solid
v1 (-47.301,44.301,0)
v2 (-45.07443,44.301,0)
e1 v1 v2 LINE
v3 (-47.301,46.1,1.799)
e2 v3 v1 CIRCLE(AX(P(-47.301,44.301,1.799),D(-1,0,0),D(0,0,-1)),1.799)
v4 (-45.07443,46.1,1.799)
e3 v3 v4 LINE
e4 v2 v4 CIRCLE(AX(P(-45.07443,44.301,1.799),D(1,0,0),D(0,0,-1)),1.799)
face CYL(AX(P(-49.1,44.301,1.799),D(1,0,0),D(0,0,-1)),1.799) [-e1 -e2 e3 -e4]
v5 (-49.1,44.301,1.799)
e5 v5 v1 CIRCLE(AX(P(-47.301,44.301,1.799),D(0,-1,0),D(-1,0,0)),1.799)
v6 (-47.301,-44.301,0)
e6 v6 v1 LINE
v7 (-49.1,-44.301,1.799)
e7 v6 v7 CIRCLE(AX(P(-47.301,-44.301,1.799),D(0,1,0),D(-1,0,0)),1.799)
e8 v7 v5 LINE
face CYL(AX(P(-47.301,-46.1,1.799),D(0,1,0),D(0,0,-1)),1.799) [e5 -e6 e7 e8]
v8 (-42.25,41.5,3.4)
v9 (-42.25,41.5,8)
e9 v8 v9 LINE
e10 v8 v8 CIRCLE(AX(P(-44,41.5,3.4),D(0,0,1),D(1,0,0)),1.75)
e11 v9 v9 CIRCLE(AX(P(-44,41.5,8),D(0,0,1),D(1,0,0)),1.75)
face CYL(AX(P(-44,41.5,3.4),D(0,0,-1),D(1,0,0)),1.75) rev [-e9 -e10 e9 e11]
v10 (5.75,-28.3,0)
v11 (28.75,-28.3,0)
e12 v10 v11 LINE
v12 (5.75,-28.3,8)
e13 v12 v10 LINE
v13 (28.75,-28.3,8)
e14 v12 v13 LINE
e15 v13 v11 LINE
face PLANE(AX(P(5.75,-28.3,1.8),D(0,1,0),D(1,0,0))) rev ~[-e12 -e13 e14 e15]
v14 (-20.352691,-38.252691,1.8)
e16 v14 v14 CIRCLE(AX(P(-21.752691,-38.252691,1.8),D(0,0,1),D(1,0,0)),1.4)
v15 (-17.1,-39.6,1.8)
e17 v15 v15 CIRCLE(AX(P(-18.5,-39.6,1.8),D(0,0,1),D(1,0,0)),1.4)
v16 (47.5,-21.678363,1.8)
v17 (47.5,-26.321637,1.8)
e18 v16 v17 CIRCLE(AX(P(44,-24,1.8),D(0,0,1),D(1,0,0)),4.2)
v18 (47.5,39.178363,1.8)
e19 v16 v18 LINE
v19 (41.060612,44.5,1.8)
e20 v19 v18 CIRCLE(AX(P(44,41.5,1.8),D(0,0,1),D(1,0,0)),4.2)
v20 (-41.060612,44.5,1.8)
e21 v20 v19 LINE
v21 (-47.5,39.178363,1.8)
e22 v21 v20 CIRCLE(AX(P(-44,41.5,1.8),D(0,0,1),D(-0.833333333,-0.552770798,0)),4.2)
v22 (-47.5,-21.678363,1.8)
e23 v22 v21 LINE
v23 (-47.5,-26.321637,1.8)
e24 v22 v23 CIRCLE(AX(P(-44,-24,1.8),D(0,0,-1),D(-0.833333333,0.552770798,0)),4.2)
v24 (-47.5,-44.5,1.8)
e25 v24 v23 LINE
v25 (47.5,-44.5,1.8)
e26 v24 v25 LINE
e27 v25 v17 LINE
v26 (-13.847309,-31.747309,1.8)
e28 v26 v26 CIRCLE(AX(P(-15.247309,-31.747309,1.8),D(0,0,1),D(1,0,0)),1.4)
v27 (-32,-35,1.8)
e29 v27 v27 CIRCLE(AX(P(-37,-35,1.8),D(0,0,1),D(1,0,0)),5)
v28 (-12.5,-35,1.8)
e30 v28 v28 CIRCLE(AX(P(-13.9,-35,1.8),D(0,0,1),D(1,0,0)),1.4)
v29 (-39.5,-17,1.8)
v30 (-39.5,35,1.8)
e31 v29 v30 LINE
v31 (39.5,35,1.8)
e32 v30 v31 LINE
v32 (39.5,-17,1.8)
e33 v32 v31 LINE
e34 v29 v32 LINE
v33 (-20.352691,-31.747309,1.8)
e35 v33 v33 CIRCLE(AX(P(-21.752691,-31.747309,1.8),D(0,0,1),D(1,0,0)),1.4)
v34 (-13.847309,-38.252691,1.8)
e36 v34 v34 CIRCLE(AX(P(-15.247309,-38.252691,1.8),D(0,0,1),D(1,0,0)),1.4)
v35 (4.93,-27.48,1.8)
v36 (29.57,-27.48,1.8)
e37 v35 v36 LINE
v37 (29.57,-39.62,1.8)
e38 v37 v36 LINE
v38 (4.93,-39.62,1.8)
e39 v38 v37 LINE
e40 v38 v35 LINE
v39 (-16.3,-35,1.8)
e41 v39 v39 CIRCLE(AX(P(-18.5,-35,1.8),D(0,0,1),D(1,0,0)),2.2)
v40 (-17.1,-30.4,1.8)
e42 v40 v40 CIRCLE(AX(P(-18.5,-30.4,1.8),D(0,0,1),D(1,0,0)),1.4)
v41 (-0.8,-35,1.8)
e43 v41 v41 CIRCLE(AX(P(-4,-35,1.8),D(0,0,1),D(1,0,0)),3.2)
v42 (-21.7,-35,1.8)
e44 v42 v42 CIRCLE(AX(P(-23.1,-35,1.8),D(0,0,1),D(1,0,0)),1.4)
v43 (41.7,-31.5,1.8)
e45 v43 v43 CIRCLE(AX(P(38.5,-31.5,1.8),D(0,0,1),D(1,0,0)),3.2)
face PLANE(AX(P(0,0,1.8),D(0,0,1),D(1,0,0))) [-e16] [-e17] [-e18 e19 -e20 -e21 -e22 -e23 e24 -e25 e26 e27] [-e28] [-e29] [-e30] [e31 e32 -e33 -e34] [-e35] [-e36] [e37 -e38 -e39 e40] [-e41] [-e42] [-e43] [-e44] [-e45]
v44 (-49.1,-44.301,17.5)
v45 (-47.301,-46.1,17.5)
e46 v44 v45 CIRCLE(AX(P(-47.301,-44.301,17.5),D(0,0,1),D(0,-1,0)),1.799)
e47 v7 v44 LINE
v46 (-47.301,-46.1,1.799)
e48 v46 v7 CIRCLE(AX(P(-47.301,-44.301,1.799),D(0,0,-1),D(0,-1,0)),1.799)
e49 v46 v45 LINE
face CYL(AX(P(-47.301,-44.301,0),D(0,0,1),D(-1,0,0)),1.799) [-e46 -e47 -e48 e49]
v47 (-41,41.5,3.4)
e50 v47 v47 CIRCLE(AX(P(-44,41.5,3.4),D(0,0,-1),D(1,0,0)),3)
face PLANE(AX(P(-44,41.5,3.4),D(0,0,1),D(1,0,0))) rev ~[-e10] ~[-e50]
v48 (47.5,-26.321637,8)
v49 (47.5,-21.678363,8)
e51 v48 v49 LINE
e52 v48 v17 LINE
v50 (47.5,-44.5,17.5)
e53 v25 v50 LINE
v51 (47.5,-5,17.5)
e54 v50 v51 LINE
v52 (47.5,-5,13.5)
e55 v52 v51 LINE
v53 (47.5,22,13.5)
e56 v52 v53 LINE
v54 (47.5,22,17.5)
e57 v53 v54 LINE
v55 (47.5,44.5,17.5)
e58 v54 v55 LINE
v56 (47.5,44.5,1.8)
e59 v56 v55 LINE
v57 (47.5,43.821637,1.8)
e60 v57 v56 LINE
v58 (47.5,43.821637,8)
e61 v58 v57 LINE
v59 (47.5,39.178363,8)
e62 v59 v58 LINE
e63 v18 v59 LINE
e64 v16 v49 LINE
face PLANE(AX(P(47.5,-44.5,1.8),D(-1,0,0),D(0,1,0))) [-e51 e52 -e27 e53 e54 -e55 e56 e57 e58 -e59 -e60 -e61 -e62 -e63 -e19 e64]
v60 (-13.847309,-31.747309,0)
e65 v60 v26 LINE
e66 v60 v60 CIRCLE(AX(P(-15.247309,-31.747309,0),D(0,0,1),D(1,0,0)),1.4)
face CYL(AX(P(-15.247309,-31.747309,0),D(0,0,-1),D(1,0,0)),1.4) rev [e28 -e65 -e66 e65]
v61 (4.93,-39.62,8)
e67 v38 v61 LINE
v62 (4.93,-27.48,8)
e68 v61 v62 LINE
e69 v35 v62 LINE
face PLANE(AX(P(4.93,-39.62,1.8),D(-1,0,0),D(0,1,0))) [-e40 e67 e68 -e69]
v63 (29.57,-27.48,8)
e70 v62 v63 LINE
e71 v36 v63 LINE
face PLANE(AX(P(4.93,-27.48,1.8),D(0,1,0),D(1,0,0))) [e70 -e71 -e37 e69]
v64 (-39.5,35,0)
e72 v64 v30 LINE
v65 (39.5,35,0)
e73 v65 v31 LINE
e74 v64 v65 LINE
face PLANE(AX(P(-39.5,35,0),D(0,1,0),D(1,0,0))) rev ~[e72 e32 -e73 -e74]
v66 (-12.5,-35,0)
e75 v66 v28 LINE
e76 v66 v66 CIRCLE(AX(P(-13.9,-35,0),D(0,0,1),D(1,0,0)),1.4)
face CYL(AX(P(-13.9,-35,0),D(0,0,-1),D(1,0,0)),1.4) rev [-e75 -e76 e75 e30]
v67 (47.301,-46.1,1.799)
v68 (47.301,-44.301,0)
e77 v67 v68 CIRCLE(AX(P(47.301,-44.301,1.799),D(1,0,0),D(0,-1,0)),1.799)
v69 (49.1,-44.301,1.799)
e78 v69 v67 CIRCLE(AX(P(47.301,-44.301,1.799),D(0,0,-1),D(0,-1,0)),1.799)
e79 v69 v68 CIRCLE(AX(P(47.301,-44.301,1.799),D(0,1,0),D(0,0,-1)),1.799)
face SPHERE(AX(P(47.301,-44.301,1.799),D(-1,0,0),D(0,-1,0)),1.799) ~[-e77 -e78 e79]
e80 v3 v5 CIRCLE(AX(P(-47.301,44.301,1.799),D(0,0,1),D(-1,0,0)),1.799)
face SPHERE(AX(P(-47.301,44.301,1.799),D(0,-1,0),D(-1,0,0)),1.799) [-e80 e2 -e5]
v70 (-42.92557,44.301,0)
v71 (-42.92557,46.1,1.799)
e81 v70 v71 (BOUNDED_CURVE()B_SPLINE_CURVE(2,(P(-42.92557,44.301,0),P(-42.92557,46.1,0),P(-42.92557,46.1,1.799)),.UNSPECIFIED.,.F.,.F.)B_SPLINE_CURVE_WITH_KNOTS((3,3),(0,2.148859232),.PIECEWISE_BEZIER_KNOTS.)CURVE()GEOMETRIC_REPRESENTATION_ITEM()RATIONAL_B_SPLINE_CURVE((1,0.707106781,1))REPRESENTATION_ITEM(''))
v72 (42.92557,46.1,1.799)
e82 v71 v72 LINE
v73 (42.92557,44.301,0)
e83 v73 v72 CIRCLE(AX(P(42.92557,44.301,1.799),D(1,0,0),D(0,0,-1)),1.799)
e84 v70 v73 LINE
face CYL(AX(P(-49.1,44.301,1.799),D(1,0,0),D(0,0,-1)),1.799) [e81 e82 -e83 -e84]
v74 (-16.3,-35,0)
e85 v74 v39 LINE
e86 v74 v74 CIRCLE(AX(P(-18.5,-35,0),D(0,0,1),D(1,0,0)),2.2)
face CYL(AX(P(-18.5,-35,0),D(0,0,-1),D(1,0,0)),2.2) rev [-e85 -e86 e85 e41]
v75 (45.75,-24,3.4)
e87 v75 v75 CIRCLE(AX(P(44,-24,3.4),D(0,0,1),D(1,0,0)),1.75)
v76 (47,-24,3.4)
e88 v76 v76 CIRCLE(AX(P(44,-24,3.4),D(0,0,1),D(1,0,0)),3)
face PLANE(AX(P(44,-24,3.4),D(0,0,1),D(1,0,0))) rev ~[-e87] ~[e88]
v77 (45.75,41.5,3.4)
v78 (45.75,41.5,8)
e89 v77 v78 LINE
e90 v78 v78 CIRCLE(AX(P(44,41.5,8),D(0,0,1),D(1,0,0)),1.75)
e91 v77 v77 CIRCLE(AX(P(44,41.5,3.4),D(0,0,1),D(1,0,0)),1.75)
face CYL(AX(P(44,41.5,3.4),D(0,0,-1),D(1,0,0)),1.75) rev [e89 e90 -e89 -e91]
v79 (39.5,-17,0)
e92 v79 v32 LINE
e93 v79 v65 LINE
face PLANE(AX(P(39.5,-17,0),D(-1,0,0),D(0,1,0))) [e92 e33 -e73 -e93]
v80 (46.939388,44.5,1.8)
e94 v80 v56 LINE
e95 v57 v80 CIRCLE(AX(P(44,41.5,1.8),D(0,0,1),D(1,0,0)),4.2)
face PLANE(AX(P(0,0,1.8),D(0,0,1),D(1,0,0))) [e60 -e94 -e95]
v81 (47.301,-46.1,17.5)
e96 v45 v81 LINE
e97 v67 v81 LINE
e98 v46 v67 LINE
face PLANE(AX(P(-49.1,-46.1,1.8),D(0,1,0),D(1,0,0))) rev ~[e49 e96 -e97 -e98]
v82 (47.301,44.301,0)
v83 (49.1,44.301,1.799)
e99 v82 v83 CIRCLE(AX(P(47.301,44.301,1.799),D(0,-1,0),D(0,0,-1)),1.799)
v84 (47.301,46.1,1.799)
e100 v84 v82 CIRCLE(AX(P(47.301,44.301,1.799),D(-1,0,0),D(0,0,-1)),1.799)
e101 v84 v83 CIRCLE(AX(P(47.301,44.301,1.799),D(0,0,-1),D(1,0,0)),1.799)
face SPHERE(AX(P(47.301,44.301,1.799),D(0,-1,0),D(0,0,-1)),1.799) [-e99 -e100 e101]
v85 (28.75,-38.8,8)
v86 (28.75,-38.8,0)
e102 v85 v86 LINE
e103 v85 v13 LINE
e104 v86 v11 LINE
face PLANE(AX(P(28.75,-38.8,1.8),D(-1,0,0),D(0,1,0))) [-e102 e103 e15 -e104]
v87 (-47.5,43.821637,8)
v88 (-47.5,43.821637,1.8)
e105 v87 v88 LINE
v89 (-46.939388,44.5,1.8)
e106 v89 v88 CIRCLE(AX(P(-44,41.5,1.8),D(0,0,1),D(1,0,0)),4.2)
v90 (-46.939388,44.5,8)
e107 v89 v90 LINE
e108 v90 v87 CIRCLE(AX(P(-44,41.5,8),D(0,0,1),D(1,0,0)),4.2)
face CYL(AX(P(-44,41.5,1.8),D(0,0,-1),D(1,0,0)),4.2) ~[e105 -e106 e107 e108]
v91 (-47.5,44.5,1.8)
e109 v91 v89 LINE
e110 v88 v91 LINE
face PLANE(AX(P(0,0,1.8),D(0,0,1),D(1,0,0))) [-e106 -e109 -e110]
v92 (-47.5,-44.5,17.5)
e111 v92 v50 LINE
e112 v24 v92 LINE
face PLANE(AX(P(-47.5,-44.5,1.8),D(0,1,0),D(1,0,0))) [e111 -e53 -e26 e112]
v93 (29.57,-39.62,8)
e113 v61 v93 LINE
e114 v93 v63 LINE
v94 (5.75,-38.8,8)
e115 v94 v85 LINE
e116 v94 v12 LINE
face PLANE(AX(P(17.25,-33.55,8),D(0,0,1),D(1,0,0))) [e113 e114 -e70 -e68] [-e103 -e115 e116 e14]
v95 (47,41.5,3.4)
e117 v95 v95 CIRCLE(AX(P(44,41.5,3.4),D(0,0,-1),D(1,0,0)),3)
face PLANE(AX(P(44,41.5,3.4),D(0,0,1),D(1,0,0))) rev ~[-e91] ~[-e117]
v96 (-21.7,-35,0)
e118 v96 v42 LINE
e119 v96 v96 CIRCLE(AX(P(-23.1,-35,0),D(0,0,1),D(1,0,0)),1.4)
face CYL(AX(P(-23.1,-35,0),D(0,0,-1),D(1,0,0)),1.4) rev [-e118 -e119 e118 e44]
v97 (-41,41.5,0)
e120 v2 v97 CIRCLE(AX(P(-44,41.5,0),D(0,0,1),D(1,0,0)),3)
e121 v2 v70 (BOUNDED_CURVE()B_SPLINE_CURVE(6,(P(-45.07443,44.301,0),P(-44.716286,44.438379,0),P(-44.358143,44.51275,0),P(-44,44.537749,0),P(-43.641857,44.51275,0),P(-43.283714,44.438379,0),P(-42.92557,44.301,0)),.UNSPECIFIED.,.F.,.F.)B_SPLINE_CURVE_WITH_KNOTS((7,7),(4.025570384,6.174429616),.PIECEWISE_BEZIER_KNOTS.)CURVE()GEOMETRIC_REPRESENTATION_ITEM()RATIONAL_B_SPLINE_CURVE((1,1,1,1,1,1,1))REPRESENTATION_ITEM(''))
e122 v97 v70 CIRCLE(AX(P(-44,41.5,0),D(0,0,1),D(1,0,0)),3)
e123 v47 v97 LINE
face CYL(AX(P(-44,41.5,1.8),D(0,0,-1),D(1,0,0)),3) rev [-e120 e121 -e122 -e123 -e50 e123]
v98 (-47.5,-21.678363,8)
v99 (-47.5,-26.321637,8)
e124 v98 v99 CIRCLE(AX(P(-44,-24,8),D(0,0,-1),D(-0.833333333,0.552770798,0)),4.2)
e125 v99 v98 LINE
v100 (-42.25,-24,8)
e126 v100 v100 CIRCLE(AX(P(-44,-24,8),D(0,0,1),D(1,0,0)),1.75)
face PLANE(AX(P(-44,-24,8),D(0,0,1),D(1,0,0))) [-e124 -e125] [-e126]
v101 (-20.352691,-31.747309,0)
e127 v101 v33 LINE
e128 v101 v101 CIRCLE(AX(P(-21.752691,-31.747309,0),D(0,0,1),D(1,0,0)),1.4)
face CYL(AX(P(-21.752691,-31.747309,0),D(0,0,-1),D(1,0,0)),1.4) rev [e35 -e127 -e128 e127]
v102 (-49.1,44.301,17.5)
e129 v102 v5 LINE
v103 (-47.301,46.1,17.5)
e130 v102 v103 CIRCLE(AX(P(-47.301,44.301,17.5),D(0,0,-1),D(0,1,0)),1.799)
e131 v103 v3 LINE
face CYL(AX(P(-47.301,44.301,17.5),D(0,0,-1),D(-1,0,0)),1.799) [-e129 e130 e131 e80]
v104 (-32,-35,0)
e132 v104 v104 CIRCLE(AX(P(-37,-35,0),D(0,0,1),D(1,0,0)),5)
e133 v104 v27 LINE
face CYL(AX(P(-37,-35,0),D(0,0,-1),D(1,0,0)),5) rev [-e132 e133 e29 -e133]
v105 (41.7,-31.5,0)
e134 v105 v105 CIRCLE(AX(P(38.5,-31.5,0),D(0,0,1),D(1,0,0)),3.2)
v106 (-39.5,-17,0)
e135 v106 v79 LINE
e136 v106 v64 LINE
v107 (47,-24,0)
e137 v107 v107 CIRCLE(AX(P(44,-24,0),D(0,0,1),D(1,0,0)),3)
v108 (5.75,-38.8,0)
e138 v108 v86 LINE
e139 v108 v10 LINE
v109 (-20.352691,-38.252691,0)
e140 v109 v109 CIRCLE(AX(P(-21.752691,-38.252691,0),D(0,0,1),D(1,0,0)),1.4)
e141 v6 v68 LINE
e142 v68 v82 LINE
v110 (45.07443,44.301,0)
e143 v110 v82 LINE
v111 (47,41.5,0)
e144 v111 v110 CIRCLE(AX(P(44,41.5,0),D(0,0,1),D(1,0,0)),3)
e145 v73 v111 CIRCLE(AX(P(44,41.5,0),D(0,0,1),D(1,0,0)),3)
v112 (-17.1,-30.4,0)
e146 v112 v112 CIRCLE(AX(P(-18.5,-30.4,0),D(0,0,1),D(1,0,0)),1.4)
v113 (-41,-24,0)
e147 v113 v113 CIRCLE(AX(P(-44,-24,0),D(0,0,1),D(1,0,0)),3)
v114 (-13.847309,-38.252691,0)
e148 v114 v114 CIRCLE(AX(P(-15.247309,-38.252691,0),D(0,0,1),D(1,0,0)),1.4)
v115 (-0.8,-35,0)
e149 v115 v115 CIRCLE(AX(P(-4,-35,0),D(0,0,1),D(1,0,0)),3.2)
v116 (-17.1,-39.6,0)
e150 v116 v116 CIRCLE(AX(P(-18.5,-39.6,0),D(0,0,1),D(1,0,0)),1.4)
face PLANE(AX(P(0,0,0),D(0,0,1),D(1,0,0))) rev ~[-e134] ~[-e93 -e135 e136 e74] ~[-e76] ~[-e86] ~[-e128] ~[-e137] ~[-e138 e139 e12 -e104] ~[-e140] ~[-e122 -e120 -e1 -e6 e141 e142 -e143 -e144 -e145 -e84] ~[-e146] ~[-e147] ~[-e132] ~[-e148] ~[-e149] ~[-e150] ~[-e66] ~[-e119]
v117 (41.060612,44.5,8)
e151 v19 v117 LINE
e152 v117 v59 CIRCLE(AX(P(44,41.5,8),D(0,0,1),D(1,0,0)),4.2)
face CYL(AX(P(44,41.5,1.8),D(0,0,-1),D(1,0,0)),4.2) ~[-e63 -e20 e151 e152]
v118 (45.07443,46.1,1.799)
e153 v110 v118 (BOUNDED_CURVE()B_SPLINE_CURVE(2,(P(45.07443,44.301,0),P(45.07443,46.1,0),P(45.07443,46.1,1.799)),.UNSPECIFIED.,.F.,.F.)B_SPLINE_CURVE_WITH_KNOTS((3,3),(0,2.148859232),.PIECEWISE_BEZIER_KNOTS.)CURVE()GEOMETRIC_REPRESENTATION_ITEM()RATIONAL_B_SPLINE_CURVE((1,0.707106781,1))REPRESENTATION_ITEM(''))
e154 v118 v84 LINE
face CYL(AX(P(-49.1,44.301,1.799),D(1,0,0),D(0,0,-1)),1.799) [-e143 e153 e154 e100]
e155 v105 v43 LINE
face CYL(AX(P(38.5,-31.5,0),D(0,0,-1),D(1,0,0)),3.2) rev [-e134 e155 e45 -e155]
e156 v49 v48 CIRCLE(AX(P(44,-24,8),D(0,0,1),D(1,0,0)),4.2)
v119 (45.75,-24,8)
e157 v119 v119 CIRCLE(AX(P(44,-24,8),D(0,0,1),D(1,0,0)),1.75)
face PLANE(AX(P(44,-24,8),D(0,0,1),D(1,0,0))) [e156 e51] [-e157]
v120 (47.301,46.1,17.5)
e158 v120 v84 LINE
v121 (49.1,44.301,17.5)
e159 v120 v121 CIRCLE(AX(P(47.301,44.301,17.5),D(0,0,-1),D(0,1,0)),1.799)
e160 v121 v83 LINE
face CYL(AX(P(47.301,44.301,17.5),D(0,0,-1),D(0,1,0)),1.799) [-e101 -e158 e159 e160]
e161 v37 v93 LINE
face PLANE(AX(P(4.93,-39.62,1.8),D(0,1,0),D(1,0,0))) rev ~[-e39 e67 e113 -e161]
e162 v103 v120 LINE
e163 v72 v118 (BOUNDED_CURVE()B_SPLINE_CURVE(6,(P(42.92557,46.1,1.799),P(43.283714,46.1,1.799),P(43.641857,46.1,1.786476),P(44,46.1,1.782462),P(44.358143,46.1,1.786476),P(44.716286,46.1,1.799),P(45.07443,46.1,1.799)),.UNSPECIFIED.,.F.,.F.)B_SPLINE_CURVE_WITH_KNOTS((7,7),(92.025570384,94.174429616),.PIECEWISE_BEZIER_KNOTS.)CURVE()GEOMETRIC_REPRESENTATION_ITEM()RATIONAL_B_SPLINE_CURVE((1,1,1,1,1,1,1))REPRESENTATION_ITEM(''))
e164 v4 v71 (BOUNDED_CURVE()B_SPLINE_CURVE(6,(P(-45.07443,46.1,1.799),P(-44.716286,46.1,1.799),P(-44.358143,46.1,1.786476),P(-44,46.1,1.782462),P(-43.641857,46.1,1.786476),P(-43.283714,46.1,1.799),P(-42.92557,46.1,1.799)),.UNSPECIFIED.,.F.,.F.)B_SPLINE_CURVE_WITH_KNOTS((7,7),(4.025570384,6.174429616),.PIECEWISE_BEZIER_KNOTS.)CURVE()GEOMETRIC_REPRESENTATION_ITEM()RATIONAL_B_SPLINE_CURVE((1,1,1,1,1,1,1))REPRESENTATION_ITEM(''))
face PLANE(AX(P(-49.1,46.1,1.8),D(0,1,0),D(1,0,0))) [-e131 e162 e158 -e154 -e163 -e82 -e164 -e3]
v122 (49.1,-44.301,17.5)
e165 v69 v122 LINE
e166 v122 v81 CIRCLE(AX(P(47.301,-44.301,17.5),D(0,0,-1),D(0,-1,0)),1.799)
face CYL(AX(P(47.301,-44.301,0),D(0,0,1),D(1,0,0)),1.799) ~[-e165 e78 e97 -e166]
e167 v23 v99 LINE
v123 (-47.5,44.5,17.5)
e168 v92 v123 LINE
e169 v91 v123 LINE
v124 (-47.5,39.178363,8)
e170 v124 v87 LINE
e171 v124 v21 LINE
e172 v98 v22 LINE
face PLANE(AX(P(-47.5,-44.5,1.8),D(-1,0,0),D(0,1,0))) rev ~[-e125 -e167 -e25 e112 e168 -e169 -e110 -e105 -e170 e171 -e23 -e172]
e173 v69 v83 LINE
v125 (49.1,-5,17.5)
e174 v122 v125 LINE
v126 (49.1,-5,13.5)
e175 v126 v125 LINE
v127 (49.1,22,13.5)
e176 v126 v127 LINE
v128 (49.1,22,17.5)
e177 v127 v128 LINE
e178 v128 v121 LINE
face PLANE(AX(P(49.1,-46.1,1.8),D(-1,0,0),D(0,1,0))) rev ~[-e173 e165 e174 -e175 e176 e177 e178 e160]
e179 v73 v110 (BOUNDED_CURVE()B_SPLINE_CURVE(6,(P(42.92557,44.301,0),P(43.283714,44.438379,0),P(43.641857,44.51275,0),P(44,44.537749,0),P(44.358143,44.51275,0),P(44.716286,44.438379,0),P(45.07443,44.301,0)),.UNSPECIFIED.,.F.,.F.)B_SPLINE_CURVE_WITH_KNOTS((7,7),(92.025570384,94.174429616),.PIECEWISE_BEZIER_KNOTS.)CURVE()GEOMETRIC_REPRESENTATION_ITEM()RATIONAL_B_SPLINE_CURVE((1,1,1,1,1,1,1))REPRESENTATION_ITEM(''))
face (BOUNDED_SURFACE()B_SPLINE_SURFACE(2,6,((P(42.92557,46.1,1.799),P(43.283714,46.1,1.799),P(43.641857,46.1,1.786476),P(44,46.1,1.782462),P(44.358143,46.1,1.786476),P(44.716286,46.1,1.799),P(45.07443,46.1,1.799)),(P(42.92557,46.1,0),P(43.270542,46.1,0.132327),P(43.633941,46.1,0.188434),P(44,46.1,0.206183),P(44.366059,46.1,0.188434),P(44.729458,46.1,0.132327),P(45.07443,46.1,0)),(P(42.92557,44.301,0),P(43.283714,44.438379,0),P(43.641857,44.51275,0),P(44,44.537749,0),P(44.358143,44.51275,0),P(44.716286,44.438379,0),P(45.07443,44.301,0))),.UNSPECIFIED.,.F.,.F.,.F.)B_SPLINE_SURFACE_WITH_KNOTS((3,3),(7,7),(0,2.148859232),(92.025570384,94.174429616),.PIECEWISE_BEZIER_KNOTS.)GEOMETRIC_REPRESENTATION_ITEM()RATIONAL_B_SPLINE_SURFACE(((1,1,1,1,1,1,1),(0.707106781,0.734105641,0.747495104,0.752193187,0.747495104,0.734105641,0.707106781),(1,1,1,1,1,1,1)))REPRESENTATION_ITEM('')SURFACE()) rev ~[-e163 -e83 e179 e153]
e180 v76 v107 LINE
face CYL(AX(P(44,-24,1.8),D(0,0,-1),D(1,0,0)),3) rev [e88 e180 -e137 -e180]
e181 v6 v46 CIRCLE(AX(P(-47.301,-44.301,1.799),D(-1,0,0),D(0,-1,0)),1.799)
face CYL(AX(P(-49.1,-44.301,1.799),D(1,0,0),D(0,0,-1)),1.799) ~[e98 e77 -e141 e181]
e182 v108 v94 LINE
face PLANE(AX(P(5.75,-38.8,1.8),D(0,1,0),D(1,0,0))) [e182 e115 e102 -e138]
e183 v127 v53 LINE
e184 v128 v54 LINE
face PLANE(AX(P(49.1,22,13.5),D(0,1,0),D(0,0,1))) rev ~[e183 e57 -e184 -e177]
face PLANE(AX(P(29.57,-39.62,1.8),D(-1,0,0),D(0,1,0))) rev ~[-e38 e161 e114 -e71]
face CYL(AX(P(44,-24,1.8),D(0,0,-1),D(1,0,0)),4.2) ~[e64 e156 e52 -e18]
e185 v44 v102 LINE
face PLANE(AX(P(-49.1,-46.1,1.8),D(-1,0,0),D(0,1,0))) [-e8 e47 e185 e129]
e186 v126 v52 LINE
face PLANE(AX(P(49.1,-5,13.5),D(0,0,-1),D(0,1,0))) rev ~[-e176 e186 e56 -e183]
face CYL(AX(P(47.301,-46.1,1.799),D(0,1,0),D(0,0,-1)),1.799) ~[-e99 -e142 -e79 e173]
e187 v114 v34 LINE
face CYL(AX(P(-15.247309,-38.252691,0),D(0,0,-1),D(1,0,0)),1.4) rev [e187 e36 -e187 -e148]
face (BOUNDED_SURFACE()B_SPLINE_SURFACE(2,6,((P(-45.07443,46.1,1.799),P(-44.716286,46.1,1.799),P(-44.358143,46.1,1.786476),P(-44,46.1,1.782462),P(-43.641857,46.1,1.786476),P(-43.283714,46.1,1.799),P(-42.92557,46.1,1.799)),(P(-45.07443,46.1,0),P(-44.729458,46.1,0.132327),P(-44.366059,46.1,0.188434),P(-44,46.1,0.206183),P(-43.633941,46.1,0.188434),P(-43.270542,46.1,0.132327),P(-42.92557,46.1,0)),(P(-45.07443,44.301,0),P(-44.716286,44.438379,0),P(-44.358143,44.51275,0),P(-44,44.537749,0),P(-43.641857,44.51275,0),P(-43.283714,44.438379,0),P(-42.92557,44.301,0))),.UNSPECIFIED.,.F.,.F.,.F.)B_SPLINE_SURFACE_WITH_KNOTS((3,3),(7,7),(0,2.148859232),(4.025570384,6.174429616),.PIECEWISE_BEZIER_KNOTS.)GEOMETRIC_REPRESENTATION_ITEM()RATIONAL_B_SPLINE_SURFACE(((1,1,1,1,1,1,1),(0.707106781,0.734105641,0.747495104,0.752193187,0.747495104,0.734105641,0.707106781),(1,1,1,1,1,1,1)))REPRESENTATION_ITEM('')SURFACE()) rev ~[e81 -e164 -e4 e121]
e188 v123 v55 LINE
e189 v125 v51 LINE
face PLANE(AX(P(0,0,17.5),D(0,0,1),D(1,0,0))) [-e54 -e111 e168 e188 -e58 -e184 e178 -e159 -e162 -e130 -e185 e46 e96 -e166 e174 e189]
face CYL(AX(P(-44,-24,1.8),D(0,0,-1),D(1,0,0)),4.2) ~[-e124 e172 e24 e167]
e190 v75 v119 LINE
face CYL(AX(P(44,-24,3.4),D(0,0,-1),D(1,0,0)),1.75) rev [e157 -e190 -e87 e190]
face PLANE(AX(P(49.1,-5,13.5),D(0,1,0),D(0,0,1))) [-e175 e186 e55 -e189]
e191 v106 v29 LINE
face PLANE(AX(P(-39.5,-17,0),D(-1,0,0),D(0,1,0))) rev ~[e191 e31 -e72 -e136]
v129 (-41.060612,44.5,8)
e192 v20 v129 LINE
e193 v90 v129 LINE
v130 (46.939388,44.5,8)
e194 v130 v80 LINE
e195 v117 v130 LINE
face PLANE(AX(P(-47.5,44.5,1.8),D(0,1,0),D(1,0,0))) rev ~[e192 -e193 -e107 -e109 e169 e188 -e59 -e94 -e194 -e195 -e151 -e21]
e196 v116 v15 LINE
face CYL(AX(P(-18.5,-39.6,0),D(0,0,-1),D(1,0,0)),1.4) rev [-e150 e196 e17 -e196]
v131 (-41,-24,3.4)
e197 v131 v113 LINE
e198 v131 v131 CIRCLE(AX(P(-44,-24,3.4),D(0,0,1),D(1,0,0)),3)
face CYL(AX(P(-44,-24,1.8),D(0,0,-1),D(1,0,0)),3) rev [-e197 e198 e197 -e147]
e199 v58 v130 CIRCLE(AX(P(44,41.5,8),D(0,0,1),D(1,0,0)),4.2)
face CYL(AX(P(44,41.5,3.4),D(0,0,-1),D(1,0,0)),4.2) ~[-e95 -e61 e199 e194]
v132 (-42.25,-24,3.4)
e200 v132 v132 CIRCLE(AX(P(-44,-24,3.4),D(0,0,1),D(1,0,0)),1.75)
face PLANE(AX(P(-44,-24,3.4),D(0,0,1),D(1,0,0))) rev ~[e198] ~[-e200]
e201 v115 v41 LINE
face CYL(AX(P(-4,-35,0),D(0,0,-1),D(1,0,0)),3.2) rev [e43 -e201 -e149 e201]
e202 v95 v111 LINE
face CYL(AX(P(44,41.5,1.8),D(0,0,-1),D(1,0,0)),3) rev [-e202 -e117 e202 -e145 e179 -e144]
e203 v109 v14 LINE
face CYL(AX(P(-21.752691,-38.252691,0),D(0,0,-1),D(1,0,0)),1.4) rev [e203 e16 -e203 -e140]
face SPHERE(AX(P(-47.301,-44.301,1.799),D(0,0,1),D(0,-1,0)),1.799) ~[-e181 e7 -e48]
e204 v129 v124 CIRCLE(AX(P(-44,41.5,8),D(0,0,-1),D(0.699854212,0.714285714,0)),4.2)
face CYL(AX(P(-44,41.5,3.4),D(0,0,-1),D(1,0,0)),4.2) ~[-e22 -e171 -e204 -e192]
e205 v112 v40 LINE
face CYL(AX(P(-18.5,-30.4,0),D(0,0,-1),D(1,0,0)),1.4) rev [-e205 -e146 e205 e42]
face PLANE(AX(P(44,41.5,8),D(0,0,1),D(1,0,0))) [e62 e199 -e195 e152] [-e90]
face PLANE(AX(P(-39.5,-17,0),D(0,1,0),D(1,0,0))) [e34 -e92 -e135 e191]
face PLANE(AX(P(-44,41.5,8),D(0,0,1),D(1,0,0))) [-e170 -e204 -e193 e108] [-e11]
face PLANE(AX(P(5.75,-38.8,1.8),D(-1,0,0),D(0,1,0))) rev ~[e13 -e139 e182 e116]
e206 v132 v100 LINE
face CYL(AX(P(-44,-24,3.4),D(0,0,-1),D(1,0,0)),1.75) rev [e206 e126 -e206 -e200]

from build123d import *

# Parameters (mm, degrees)
SKETCH_W      = 98.2
SKETCH_H      = 92.2
SKETCH_R      = 5
SKETCH_R_2    = 3.2
SKETCH_R_3    = 1.4
SKETCH_R_4    = 2.2
SKETCH_R_5    = 3
SKETCH_W_2    = 79
SKETCH_H_2    = 52
SKETCH_W_3    = 23
SKETCH_H_3    = 10.5
PAD_DEPTH     = 1.8
SKETCH001_W   = 98.2
SKETCH001_H   = 92.2
SKETCH001_W_2 = 95
SKETCH001_H_2 = 89
PAD001_DEPTH  = 15.7
SKETCH002_R   = 4.2
SKETCH002_R_2 = 3
PAD002_DEPTH  = 1.6
SKETCH026_R   = 4.2
SKETCH026_R_2 = 1.75
PAD013_DEPTH  = 4.6
SKETCH027_W   = 24.64
SKETCH027_H   = 12.14
SKETCH027_W_2 = 23
SKETCH027_H_2 = 10.5
PAD014_DEPTH  = 6.2
SKETCH003_W   = 27
SKETCH003_H   = 4
POCKET_DEPTH  = 1.6
FILLET_R      = 1.799


with BuildPart() as part:
    # Sketch → Pad (new body)
    with BuildSketch(Plane.XY):
        Rectangle(SKETCH_W, SKETCH_H)
        with Locations((-37, -35)):
            Circle(SKETCH_R, mode=Mode.SUBTRACT)
        with Locations((-4, -35)):
            Circle(SKETCH_R_2, mode=Mode.SUBTRACT)
        with Locations((-23.1, -35)):
            Circle(SKETCH_R_3, mode=Mode.SUBTRACT)
        with Locations((-18.5, -30.4)):
            Circle(SKETCH_R_3, mode=Mode.SUBTRACT)
        with Locations((-13.9, -35)):
            Circle(SKETCH_R_3, mode=Mode.SUBTRACT)
        with Locations((-18.5, -39.6)):
            Circle(SKETCH_R_3, mode=Mode.SUBTRACT)
        with Locations((-18.5, -35)):
            Circle(SKETCH_R_4, mode=Mode.SUBTRACT)
        with Locations((-21.752691, -31.747309)):
            Circle(SKETCH_R_3, mode=Mode.SUBTRACT)
        with Locations((-15.247309, -31.747309)):
            Circle(SKETCH_R_3, mode=Mode.SUBTRACT)
        with Locations((-15.247309, -38.252691)):
            Circle(SKETCH_R_3, mode=Mode.SUBTRACT)
        with Locations((-21.752691, -38.252691)):
            Circle(SKETCH_R_3, mode=Mode.SUBTRACT)
        with Locations((38.5, -31.5)):
            Circle(SKETCH_R_2, mode=Mode.SUBTRACT)
        with Locations((-44, 41.5)):
            Circle(SKETCH_R_5, mode=Mode.SUBTRACT)
        with Locations((44, 41.5)):
            Circle(SKETCH_R_5, mode=Mode.SUBTRACT)
        with Locations((-44, -24)):
            Circle(SKETCH_R_5, mode=Mode.SUBTRACT)
        with Locations((44, -24)):
            Circle(SKETCH_R_5, mode=Mode.SUBTRACT)
        with Locations((0, 9)):
            Rectangle(SKETCH_W_2, SKETCH_H_2, mode=Mode.SUBTRACT)
        with Locations((17.25, -33.55)):
            Rectangle(SKETCH_W_3, SKETCH_H_3, mode=Mode.SUBTRACT)
    extrude(amount=PAD_DEPTH)

    # Sketch001 → Pad001 (join)
    with BuildSketch(Plane.XY.offset(1.8)):
        Rectangle(SKETCH001_W, SKETCH001_H)
        Rectangle(SKETCH001_W_2, SKETCH001_H_2, mode=Mode.SUBTRACT)
    extrude(amount=PAD001_DEPTH)

    # Sketch002 → Pad002 (join)
    with BuildSketch(Plane.XY.offset(1.8)):
        with Locations((-44, 41.5)):
            Circle(SKETCH002_R)
        with Locations((-44, 41.5)):
            Circle(SKETCH002_R_2, mode=Mode.SUBTRACT)
        with Locations((44, 41.5)):
            Circle(SKETCH002_R)
        with Locations((44, 41.5)):
            Circle(SKETCH002_R_2, mode=Mode.SUBTRACT)
        with Locations((44, -24)):
            Circle(SKETCH002_R)
        with Locations((44, -24)):
            Circle(SKETCH002_R_2, mode=Mode.SUBTRACT)
        with Locations((-44, -24)):
            Circle(SKETCH002_R)
        with Locations((-44, -24)):
            Circle(SKETCH002_R_2, mode=Mode.SUBTRACT)
    extrude(amount=PAD002_DEPTH)

    # Sketch026 → Pad013 (join)
    with BuildSketch(Plane.XY.offset(3.4)):
        with Locations((-44, 41.5)):
            Circle(SKETCH026_R)
        with Locations((-44, 41.5)):
            Circle(SKETCH026_R_2, mode=Mode.SUBTRACT)
        with Locations((44, 41.5)):
            Circle(SKETCH026_R)
        with Locations((44, 41.5)):
            Circle(SKETCH026_R_2, mode=Mode.SUBTRACT)
        with Locations((44, -24)):
            Circle(SKETCH026_R)
        with Locations((44, -24)):
            Circle(SKETCH026_R_2, mode=Mode.SUBTRACT)
        with Locations((-44, -24)):
            Circle(SKETCH026_R)
        with Locations((-44, -24)):
            Circle(SKETCH026_R_2, mode=Mode.SUBTRACT)
    extrude(amount=PAD013_DEPTH)

    # Sketch027 → Pad014 (join)
    with BuildSketch(Plane.XY.offset(1.8)):
        with Locations((17.25, -33.55)):
            Rectangle(SKETCH027_W, SKETCH027_H)
        with Locations((17.25, -33.55)):
            Rectangle(SKETCH027_W_2, SKETCH027_H_2, mode=Mode.SUBTRACT)
    extrude(amount=PAD014_DEPTH)

    # Sketch003 → Pocket (cut)
    with BuildSketch(Plane.YZ.offset(49.1)):
        with Locations((8.5, 15.5)):
            Rectangle(SKETCH003_W, SKETCH003_H)
    extrude(amount=-POCKET_DEPTH, mode=Mode.SUBTRACT)

    # Fillet
    fillet_edges = [part.edges().sort_by_distance(p)[0] for p in [
        (-49.1, -46.1, 8.75),
        (0, -46.1, 0),
        (-49.1, 0, 0),
        (-49.1, 46.1, 8.75),
        (49.1, -46.1, 8.75),
        (49.1, 0, 0),
        (0, 46.1, 0),
        (49.1, 46.1, 8.75),
    ]]
    fillet(fillet_edges, radius=FILLET_R)


solid = part.part
